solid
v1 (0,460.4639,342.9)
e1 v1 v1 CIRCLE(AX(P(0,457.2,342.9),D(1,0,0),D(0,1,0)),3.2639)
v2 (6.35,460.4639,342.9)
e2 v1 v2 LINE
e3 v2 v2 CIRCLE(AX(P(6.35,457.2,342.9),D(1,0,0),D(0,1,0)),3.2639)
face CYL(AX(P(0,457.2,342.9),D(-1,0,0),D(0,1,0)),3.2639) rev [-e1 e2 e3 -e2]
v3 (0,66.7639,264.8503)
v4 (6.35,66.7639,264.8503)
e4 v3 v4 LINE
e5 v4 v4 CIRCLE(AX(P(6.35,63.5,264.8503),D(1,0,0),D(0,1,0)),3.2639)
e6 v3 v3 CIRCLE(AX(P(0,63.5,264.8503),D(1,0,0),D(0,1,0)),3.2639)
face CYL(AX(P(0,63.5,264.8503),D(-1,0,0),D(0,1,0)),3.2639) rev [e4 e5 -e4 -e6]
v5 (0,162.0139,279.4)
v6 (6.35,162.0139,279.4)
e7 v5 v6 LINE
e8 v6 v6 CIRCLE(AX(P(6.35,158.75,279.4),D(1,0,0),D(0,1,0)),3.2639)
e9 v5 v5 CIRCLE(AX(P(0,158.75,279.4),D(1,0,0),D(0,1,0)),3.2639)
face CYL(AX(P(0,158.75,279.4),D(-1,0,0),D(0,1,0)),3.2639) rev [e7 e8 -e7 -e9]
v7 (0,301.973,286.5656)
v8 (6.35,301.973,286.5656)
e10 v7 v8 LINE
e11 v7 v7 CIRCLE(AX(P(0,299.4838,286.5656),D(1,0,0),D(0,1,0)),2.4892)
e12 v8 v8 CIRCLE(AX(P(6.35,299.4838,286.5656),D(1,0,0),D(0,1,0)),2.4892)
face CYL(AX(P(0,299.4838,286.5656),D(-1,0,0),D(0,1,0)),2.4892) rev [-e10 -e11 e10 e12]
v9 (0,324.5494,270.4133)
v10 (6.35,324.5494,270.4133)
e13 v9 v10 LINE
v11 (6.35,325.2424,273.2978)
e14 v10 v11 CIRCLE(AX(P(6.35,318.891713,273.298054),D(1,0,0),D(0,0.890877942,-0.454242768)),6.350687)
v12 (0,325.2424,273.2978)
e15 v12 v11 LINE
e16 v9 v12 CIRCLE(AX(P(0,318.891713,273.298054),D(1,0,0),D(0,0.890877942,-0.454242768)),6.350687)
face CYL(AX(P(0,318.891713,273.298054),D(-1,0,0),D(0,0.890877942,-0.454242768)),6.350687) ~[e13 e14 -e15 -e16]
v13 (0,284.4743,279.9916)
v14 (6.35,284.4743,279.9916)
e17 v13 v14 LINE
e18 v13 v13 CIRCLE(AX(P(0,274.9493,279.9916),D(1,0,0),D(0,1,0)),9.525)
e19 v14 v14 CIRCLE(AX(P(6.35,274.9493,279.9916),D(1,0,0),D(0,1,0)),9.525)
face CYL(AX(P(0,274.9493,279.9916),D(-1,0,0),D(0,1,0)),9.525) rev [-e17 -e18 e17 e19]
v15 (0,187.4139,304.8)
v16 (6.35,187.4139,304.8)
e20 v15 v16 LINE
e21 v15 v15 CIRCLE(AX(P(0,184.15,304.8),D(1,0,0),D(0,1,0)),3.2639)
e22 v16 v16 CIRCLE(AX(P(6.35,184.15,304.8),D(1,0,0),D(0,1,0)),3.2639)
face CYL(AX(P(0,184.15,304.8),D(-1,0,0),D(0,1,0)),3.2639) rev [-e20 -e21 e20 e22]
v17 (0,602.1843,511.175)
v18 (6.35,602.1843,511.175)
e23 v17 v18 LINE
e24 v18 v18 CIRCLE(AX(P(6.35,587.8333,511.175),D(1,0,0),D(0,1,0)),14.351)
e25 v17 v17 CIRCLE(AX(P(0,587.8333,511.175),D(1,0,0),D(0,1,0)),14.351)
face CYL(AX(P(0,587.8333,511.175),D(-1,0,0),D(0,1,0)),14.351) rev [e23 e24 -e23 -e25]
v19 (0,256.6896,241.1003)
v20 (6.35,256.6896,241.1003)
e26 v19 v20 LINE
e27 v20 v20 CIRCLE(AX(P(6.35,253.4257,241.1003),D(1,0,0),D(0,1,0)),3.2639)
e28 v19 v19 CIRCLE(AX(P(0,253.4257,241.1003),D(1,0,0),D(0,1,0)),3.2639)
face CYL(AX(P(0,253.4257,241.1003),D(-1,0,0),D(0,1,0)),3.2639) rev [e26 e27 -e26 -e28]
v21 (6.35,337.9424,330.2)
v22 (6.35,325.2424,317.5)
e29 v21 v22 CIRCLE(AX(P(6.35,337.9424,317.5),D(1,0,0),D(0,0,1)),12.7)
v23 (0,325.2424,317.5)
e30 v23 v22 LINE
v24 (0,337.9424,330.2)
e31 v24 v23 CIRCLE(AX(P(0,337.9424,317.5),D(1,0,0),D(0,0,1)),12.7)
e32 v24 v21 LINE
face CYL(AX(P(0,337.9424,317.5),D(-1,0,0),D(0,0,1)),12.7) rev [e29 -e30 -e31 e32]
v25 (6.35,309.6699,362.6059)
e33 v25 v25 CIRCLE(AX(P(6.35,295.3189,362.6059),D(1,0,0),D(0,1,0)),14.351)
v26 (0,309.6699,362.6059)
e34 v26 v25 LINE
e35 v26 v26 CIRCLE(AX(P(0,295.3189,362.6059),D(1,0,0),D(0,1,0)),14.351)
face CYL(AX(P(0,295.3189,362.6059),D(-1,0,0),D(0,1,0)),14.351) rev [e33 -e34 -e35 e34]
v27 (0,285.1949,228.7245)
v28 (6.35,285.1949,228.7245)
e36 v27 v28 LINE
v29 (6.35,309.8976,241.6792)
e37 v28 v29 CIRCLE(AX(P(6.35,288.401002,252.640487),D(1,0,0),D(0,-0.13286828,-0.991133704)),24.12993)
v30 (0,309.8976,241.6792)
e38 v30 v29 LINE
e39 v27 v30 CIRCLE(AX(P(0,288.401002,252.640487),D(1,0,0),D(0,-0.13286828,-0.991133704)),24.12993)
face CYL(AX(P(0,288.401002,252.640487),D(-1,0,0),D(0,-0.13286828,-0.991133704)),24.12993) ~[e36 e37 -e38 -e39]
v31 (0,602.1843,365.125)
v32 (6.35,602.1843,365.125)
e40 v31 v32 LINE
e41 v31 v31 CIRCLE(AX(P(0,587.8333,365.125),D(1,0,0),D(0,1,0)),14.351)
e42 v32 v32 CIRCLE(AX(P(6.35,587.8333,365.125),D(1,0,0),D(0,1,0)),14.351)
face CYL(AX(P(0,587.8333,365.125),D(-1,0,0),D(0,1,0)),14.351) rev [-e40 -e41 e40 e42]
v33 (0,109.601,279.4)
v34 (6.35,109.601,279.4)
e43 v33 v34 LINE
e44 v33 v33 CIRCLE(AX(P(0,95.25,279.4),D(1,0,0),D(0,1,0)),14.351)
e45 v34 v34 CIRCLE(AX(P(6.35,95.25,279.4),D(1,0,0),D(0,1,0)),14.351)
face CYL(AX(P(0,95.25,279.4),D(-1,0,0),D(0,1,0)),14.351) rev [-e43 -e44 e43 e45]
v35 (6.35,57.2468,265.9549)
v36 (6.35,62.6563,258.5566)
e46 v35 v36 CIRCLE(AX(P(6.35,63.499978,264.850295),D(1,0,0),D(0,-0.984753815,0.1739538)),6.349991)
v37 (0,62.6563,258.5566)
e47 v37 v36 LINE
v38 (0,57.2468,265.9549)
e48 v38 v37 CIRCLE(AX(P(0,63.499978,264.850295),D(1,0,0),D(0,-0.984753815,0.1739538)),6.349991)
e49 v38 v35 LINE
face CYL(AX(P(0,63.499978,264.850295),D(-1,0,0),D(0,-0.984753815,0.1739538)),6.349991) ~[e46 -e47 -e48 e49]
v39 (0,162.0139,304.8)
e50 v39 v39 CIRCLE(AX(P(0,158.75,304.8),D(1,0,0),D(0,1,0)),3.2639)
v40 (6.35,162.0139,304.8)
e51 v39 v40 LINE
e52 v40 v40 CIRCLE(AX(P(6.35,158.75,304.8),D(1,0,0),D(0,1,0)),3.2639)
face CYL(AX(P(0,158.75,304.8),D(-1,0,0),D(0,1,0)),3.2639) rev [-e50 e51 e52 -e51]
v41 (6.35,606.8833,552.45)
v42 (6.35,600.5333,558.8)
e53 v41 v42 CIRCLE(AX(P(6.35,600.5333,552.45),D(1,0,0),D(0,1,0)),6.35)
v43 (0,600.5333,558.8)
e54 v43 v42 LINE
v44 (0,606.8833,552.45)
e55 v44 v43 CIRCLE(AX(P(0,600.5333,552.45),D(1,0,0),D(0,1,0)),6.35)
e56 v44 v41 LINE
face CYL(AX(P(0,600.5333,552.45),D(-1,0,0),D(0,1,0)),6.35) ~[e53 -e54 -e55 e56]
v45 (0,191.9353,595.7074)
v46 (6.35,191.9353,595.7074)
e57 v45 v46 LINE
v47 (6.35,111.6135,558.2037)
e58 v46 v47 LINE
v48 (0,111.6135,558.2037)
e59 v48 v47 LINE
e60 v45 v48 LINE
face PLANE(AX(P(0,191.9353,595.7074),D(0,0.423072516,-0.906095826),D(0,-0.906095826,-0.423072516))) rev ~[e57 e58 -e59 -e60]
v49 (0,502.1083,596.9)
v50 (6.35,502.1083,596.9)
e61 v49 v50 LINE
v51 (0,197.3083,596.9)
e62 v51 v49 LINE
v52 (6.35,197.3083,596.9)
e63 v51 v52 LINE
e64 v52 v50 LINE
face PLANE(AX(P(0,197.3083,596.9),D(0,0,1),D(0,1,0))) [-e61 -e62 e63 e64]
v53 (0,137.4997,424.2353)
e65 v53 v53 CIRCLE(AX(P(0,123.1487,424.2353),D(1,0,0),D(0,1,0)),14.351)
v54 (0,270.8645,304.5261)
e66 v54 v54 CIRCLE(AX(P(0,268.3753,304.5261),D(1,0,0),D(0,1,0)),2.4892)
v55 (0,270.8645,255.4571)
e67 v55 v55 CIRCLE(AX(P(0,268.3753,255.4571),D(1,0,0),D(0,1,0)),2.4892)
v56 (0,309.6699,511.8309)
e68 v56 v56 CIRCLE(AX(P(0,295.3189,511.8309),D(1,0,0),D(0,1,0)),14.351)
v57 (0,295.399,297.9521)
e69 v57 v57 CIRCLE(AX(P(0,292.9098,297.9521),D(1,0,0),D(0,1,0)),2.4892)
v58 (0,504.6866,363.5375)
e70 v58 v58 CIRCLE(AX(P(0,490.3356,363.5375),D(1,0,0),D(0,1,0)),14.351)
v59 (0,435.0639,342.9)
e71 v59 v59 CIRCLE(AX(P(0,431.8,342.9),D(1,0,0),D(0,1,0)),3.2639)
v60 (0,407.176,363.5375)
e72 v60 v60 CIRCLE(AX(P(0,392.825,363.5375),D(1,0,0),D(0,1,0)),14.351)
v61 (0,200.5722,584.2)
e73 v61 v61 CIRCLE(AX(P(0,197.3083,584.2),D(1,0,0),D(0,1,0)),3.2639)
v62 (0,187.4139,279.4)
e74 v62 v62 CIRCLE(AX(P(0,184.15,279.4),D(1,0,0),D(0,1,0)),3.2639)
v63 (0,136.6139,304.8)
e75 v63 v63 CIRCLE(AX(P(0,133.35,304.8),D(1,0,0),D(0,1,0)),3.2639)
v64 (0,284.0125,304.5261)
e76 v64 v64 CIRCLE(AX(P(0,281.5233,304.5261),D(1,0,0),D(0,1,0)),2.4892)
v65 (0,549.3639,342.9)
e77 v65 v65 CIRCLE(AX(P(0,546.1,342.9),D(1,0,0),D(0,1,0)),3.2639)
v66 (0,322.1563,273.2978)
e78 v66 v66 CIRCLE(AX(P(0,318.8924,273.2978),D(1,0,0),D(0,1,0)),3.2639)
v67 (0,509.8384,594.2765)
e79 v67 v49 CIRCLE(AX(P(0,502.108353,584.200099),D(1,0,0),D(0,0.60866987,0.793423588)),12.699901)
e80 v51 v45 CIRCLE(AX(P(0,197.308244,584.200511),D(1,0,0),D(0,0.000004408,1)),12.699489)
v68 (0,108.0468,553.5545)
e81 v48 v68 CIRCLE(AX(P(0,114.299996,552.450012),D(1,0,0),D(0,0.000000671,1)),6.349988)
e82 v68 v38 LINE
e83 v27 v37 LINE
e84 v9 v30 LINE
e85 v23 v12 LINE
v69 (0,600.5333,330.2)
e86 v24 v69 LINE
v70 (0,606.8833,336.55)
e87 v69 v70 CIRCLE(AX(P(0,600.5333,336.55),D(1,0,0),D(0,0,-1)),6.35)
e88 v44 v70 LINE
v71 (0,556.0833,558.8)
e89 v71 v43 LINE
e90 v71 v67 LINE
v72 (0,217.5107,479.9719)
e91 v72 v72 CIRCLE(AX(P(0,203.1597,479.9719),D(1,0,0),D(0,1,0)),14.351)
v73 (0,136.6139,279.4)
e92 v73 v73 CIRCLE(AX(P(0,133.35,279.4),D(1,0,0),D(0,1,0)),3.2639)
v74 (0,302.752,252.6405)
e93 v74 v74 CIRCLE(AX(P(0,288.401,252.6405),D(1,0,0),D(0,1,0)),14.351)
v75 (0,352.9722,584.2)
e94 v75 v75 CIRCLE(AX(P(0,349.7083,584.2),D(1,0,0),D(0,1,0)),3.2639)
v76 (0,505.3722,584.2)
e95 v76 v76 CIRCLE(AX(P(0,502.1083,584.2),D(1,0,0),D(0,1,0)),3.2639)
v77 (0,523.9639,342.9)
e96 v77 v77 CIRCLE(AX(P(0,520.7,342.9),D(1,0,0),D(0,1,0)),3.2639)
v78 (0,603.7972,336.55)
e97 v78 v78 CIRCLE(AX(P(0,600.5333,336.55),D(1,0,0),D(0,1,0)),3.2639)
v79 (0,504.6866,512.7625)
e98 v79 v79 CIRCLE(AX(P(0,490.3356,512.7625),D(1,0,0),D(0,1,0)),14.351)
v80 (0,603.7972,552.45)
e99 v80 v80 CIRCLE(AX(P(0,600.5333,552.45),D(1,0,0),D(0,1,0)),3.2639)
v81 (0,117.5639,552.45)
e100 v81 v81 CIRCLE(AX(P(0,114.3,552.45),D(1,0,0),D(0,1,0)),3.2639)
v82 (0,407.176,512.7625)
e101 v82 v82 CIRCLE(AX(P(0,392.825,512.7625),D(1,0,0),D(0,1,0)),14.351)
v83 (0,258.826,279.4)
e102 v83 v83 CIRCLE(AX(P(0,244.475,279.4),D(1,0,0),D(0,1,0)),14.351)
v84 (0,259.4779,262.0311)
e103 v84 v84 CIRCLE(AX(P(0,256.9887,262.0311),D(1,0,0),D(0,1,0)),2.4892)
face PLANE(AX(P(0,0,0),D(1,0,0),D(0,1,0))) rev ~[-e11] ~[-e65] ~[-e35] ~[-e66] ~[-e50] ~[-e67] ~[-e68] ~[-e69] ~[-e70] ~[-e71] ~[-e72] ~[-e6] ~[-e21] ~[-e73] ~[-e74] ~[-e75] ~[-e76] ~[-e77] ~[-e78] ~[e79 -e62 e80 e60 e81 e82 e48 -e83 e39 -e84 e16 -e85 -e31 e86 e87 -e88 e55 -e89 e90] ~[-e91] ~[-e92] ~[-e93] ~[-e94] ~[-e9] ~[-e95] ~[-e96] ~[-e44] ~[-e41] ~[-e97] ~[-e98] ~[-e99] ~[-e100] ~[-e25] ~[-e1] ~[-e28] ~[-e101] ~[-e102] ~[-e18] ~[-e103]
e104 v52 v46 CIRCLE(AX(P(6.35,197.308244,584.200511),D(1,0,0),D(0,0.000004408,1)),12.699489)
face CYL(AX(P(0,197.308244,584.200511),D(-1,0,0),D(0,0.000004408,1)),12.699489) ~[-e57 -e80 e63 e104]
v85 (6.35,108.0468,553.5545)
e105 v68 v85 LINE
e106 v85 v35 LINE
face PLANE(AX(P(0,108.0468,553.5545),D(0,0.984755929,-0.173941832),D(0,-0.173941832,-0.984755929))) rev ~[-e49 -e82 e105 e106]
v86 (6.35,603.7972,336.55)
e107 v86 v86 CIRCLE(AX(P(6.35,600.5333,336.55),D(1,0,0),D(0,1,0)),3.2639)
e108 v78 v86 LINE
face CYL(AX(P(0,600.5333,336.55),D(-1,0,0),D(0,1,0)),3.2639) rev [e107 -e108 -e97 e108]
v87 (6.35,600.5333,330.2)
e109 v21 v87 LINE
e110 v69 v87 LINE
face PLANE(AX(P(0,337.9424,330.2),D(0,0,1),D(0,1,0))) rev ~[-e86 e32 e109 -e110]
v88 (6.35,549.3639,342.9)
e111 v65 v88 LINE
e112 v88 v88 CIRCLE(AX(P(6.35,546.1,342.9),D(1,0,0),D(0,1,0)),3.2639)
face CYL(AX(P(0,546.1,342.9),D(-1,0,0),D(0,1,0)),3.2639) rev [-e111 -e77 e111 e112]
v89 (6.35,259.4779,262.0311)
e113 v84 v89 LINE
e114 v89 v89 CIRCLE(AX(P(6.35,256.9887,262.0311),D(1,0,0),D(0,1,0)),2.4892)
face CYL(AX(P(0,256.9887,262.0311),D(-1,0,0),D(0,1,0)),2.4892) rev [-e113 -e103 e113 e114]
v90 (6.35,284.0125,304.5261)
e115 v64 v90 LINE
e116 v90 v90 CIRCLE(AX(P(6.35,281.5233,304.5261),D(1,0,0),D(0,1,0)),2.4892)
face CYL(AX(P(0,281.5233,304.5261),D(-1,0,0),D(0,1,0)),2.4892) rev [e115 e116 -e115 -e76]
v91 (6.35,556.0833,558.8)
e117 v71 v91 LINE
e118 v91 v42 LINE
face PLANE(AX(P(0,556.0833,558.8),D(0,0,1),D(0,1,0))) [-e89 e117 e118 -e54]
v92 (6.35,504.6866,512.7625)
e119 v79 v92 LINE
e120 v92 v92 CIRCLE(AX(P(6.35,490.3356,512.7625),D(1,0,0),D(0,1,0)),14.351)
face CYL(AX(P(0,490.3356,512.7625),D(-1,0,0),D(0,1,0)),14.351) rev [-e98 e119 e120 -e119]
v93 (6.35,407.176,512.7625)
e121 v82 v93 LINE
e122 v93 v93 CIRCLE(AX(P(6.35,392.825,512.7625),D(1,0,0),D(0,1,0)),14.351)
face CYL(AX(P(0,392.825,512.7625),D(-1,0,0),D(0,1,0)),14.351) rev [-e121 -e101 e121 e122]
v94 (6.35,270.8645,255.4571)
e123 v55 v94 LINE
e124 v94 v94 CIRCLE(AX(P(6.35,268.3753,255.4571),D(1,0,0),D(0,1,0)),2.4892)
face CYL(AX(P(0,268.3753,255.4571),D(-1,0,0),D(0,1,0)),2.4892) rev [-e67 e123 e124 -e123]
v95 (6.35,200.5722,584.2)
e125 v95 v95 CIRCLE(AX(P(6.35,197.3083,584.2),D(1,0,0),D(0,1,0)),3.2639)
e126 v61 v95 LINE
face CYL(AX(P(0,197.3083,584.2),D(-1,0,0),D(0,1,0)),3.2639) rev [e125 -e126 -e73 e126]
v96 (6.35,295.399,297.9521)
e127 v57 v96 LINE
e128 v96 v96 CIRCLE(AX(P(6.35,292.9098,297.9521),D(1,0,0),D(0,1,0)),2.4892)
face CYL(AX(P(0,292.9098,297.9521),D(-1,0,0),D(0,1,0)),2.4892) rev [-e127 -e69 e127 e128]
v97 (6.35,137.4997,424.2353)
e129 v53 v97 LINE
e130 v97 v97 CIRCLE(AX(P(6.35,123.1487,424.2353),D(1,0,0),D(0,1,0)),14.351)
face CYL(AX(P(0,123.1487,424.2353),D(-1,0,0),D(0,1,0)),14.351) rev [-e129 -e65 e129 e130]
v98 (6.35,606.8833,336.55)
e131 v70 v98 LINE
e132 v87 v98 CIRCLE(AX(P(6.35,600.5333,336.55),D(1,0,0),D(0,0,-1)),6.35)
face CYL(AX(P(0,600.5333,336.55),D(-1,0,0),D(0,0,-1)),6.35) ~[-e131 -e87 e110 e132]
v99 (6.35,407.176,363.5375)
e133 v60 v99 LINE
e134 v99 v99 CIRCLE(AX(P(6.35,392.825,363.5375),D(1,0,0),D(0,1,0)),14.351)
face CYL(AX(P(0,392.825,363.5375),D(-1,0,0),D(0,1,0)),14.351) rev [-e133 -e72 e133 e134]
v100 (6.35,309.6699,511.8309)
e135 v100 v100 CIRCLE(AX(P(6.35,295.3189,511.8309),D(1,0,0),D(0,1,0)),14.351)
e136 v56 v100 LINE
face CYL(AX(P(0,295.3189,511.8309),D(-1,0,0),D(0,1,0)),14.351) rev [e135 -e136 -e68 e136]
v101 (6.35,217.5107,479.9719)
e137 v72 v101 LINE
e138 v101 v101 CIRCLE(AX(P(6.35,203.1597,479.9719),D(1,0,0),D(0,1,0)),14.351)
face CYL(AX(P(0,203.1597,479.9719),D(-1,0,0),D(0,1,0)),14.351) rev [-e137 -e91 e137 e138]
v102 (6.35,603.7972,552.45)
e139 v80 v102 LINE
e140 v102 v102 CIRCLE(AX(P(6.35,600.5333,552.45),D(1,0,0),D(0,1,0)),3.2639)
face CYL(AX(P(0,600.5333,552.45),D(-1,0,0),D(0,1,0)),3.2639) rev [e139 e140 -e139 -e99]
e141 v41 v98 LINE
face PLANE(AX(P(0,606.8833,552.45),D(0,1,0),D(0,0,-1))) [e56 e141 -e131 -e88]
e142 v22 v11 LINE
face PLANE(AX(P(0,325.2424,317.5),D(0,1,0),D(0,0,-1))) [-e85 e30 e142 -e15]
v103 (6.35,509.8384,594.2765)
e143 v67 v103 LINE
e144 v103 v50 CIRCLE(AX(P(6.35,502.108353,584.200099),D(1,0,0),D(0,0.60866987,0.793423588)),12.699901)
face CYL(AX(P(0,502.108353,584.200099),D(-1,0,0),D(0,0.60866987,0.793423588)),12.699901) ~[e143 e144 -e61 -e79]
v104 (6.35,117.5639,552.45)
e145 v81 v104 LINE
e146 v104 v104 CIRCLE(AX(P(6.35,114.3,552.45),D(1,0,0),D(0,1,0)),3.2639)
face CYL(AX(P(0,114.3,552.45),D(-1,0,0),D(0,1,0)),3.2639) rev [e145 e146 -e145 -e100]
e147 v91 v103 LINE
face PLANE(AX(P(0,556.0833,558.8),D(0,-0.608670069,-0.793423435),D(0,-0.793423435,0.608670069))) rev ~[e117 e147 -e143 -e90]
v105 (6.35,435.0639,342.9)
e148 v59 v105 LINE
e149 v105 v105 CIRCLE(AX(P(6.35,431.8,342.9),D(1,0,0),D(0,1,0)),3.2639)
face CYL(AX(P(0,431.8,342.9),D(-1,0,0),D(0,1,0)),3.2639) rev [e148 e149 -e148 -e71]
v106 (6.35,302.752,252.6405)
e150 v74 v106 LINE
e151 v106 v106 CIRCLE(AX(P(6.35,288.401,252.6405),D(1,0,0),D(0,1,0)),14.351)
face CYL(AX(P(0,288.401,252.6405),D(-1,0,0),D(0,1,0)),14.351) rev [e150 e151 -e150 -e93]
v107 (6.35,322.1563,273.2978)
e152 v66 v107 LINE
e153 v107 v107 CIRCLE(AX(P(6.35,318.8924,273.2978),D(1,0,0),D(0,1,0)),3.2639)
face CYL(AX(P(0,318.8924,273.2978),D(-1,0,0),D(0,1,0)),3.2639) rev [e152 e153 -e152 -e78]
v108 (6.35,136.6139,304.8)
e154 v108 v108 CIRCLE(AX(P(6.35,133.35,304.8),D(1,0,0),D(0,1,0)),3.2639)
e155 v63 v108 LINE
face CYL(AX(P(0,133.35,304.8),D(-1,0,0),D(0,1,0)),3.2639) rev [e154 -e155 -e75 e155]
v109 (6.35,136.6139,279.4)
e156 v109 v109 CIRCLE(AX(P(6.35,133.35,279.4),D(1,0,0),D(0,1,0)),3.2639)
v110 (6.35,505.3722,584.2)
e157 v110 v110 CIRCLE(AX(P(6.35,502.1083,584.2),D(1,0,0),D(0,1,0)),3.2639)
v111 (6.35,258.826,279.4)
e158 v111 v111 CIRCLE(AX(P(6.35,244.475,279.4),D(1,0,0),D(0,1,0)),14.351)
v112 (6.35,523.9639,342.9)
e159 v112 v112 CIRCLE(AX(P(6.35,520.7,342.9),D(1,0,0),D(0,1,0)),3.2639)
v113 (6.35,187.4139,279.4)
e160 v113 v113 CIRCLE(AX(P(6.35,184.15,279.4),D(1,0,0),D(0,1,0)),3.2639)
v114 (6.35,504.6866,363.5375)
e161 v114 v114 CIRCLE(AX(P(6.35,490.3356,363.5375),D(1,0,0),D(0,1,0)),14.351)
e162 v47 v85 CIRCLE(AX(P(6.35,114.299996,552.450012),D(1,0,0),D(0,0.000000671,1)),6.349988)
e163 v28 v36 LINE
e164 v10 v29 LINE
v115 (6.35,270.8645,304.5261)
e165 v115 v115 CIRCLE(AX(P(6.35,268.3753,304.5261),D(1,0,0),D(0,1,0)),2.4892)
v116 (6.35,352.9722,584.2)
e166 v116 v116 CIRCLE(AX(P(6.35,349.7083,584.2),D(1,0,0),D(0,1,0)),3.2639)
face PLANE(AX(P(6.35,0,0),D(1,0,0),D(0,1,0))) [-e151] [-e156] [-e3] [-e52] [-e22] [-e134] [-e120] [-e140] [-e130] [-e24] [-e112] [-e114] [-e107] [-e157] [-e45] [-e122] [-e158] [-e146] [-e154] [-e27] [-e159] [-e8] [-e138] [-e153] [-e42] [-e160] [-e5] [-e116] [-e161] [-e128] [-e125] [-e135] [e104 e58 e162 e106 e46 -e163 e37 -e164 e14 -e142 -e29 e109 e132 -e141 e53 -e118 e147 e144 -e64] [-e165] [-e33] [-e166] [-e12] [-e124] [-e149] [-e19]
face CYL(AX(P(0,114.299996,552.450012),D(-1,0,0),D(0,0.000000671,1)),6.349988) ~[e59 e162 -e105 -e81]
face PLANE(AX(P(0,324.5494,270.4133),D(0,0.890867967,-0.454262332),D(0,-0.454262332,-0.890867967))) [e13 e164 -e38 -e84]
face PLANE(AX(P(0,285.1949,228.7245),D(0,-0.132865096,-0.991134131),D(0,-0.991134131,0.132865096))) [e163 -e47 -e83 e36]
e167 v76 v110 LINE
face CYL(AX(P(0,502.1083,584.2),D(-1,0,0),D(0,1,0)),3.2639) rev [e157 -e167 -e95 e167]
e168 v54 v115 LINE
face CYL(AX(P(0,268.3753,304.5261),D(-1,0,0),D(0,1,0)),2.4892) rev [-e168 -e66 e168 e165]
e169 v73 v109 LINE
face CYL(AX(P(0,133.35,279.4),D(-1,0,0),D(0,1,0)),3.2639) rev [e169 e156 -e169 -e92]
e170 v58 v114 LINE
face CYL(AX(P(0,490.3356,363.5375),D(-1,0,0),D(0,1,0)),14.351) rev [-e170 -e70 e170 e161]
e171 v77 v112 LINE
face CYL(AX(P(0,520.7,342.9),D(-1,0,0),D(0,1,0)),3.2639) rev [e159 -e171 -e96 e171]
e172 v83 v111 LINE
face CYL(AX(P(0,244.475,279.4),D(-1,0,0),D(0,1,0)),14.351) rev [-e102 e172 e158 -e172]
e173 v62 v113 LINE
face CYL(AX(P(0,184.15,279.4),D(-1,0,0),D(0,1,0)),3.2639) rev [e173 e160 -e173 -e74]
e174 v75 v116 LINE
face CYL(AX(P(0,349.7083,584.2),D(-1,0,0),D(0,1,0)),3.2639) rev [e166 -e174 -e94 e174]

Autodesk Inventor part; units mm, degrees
ref_plane "YZ Plane" through (0, 0, 0) normal (1, 0, 0) x (0, 1, 0)
ref_plane "XZ Plane" through (0, 0, 0) normal (0, 1, 0) x (-1, 0, 0)
ref_plane "XY Plane" through (0, 0, 0) normal (0, 0, 1) x (1, 0, 0)
sketch "Sketch1" plane through (0, 0, 0) normal (1, 0, 0) x (0, 1, 0)
  line L0 (95.25, 812.8) -> (44.45, 812.8) construction
  line L1 (44.45, 812.8) -> (44.45, 0) construction
  line L2 (44.45, 0) -> (95.25, 0) construction
  line L3 (95.25, 0) -> (95.25, 812.8) construction
  line L4 (95.25, 0) -> (44.45, 0) construction
  line L5 (44.45, 25.4) -> (95.25, 25.4) construction
  circle A0 centre (190.5, 0) radius 50.8 construction
  circle A1 centre (95.25, 279.4) radius 25.4 construction
  circle A2 centre (274.9493, 279.9916) radius 9.525
  circle A3 centre (274.9493, 279.9916) radius 25.4 construction
  circle A4 centre (274.9493, 279.9916) radius 31.75 construction
  circle A5 centre (299.4838, 286.5656) radius 2.4892
  circle A6 centre (292.9098, 297.9521) radius 2.4892
  circle A7 centre (281.5233, 304.5261) radius 2.4892
  circle A8 centre (268.3753, 304.5261) radius 2.4892
  circle A9 centre (256.9887, 297.9521) radius 2.4892
  circle A10 centre (250.4147, 286.5656) radius 2.4892 construction
  circle A11 centre (250.4147, 273.4176) radius 2.4892 construction
  circle A12 centre (256.9887, 262.0311) radius 2.4892
  circle A13 centre (268.3753, 255.4571) radius 2.4892
  circle A14 centre (281.5233, 255.4571) radius 2.4892 construction
  circle A15 centre (292.9098, 262.0311) radius 2.4892 construction
  circle A16 centre (299.4838, 273.4176) radius 2.4892
  circle A17 centre (609.6, 438.15) radius 50.8 construction
  circle A18 centre (274.9493, 279.9916) radius 30.48 construction
  circle A19 centre (587.8333, 365.125) radius 25.4 construction
  circle A20 centre (587.8333, 511.175) radius 25.4 construction
  line L6 (587.8333, 485.775) -> (587.8333, 390.525) construction
  circle A21 centre (490.3356, 512.7625) radius 14.351
  circle A22 centre (392.825, 512.7625) radius 14.351
  circle A23 centre (490.3356, 363.5375) radius 14.351
  line L7 (587.8333, 511.175) -> (490.3356, 512.7625) construction
  line L8 (587.8333, 365.125) -> (490.3356, 363.5375) construction
  circle A24 centre (490.3356, 512.7625) radius 25.4 construction
  circle A25 centre (490.3356, 363.5375) radius 25.4 construction
  line L9 (490.3356, 487.3625) -> (490.3356, 388.9375) construction
  circle A26 centre (392.825, 512.7625) radius 25.4 construction
  circle A27 centre (392.825, 363.5375) radius 25.4 construction
  circle A28 centre (392.825, 363.5375) radius 14.351
  line L10 (490.3356, 512.7625) -> (392.825, 512.7625) construction
  line L11 (490.3356, 363.5375) -> (392.825, 363.5375) construction
  line L12 (392.825, 487.3625) -> (392.825, 388.9375) construction
  circle A29 centre (295.3189, 511.8309) radius 25.4 construction
  circle A30 centre (295.3189, 362.6059) radius 25.4 construction
  circle A31 centre (203.1597, 479.9719) radius 25.4 construction
  circle A32 centre (295.3189, 511.8309) radius 14.351
  circle A33 centre (295.3189, 362.6059) radius 14.351
  circle A34 centre (203.1597, 479.9719) radius 14.351
  line L13 (392.825, 512.7625) -> (295.3189, 511.8309) construction
  line L14 (392.825, 363.5375) -> (295.3189, 362.6059) construction
  line L15 (295.3189, 486.4309) -> (295.3189, 388.0059) construction
  line L16 (295.3189, 511.8309) -> (203.1597, 479.9719) construction
  circle A35 centre (123.1487, 424.2353) radius 25.4 construction
  circle A36 centre (123.1487, 424.2353) radius 14.351
  line L17 (203.1597, 479.9719) -> (123.1487, 424.2353) construction
  circle A37 centre (95.25, 279.4) radius 14.351
  line L18 (609.6, 355.6) -> (44.45, 355.6) construction
  line L19 (44.45, 355.6) -> (44.45, 330.2) construction
  line L20 (44.45, 330.2) -> (609.6, 330.2) construction
  line L21 (609.6, 330.2) -> (609.6, 355.6) construction
  line L22 (95.25, 241.3) -> (44.45, 241.3) construction
  line L23 (44.45, 241.3) -> (44.45, 215.9) construction
  line L24 (44.45, 215.9) -> (95.25, 215.9) construction
  line L25 (95.25, 215.9) -> (95.25, 241.3) construction
  circle A38 centre (244.475, 279.4) radius 25.4 construction
  circle A39 centre (244.475, 279.4) radius 14.351
  line L26 (218.8463, 459.9947) -> (279.6322, 382.5831) construction
  circle A40 centre (274.9493, 279.9916) radius 8.89 construction
  circle A41 centre (288.401, 252.6405) radius 21.59 construction
  circle A42 centre (244.475, 279.4) radius 21.59 construction
  circle A43 centre (288.401, 252.6405) radius 14.351
  circle A44 centre (587.8333, 511.175) radius 14.351
  circle A45 centre (587.8333, 365.125) radius 14.351
  line L27 (95.25, 647.7) -> (609.6, 647.7) construction
  line L28 (609.6, 647.7) -> (609.6, 622.3) construction
  line L29 (609.6, 622.3) -> (95.25, 622.3) construction
  line L30 (95.25, 622.3) -> (95.25, 647.7) construction
  circle A46 centre (600.5333, 552.45) radius 3.2639
  circle A47 centre (600.5333, 552.45) radius 6.35 construction
  circle A48 centre (600.5333, 336.55) radius 3.2639
  circle A49 centre (600.5333, 336.55) radius 6.35 construction
  circle A50 centre (114.3, 552.45) radius 3.2639
  circle A51 centre (114.3, 552.45) radius 6.35 construction
  line L31 (595.3031, 535.4518) -> (598.6659, 546.3808) construction
  circle A52 centre (63.5, 264.8503) radius 3.2639
  circle A53 centre (63.5, 264.8503) radius 6.35 construction
  line L32 (337.9424, 330.2) -> (600.5333, 330.2)
  circle A54 centre (288.401, 252.6405) radius 24.13 construction
  circle A55 centre (244.475, 279.4) radius 24.13 construction
  line L33 (72.1591, 268.8184) -> (69.2727, 267.4957) construction
  line L34 (609.6, 342.9) -> (44.45, 342.9) construction
  circle A56 centre (288.401, 252.6405) radius 19.05 construction
  line L35 (265.0822, 266.8462) -> (267.7937, 265.1944) construction
  circle A57 centre (318.8924, 273.2978) radius 3.2639
  circle A58 centre (253.4257, 241.1003) radius 3.2639
  line L36 (95.25, 558.8) -> (44.45, 558.8) construction
  line L37 (44.45, 558.8) -> (44.45, 533.4) construction
  line L38 (44.45, 533.4) -> (95.25, 533.4) construction
  line L39 (95.25, 533.4) -> (95.25, 558.8) construction
  line L40 (114.3, 558.8) -> (600.5333, 558.8)
  line L41 (108.0468, 553.5545) -> (57.2468, 265.9549)
  line L42 (285.1949, 228.7245) -> (62.6563, 258.5566)
  circle A59 centre (318.8924, 273.2978) radius 6.35 construction
  circle A60 centre (253.4257, 241.1003) radius 6.35 construction
  arc A61 (114.3, 558.8) -> (108.0468, 553.5545) centre (114.3, 552.45) ccw
  arc A62 (57.2468, 265.9549) -> (62.6563, 258.5566) centre (63.5, 264.8503) ccw
  line L43 (312.6148, 274.2541) -> (306.3372, 275.2103) construction
  line L44 (313.6352, 269.7362) -> (308.3781, 266.1746) construction
  line L45 (259.4559, 243.09) -> (265.4861, 245.0797) construction
  line L46 (256.5005, 246.6562) -> (259.5753, 252.2121) construction
  line L47 (325.2424, 317.5) -> (325.2424, 273.2978)
  arc A63 (337.9424, 330.2) -> (325.2424, 317.5) centre (337.9424, 317.5) ccw
  line L48 (324.5494, 270.4133) -> (309.8976, 241.6792)
  arc A64 (324.5494, 270.4133) -> (325.2424, 273.2978) centre (318.8924, 273.2978) ccw
  arc A65 (285.1949, 228.7245) -> (309.8976, 241.6792) centre (288.401, 252.6405) ccw
  circle A66 centre (431.8, 342.9) radius 3.2639
  circle A67 centre (457.2, 342.9) radius 3.2639
  circle A68 centre (520.7, 342.9) radius 3.2639
  circle A69 centre (546.1, 342.9) radius 3.2639
  line L49 (606.8833, 552.45) -> (606.8833, 336.55)
  arc A70 (606.8833, 552.45) -> (600.5333, 558.8) centre (600.5333, 552.45) ccw
  arc A71 (600.5333, 330.2) -> (606.8833, 336.55) centre (600.5333, 336.55) ccw
  circle A72 centre (184.15, 304.8) radius 3.2639
  circle A73 centre (158.75, 304.8) radius 3.2639
  circle A74 centre (133.35, 304.8) radius 3.2639
  circle A75 centre (133.35, 279.4) radius 3.2639
  circle A76 centre (158.75, 279.4) radius 3.2639
  circle A77 centre (184.15, 279.4) radius 3.2639
  circle A78 centre (502.1083, 584.2) radius 3.2639
  circle A79 centre (197.3083, 584.2) radius 3.2639
  circle A80 centre (349.7083, 584.2) radius 3.2639
  circle A81 centre (502.1083, 584.2) radius 12.7 construction
  circle A82 centre (197.3083, 584.2) radius 12.7 construction
  line L50 (556.0833, 558.8) -> (509.8384, 594.2765)
  line L51 (191.9353, 595.7074) -> (111.6135, 558.2037)
  line L52 (197.3083, 596.9) -> (502.1083, 596.9)
  arc A83 (197.3083, 596.9) -> (191.9353, 595.7074) centre (197.3083, 584.2) ccw
  arc A84 (509.8384, 594.2765) -> (502.1083, 596.9) centre (502.1083, 584.2) ccw
  point P0 (0, 0)
  point P1 (274.0548, 252.2687)
  point P2 (274.7516, 257.073)
  point P3 (251.6966, 266.9984)
  point P4 (254.3358, 268.9733)
  point P5 (241.139, 234.6303)
  point P6 (100.4185, 253.4945)
  dimension "d9" = 50.8
  dimension "d14" = 50.8
  dimension "d38" = 50.8
  dimension "d53" = 50.8
  dimension "d1" = 812.8
  dimension "d2" = 44.45
  dimension "d4" = 25.4
  dimension "d5" = 101.6
  dimension "d6" = 95.25
  dimension "d8" = 50.8
  dimension "d15" = 63.5
  dimension "d21" = 19.05
  dimension "d26" = 360
  dimension "d28" = 4.9784
  dimension "d29" = 438.15
  dimension "d30" = 514.35
  dimension "d36" = 60.96
  dimension "d39" = 50.8
  dimension "d41" = 95.25
  dimension "d45" = 28.702
  dimension "d47" = 97.5106
  dimension "d48" = 98.425
  dimension "d56" = 25.4
  dimension "d73" = 50.8
  dimension "d74" = 25.4
  dimension "d75" = 215.9
  dimension "d78" = 279.4
  dimension "d80" = 149.225
  dimension "d81" = 97.5106
  dimension "d82" = 147.4978
  dimension "d83" = 17.78
  dimension "d85" = 43.18
  dimension "d92" = 330.2
  dimension "d100" = 514.35
  dimension "d107" = 25.4
  dimension "d108" = 514.35
  dimension "d109" = 266.7
  dimension "d115" = 6.5278
  dimension "d116" = 12.7
  dimension "d122" = 2.54
  dimension "d123" = 2.54
  dimension "d128" = 3.175
  dimension "d133" = 38.1
  dimension "d134" = 3.175
  dimension "d135" = 194.9958
  dimension "d136" = 6.5278
  dimension "d137" = 25.4
  dimension "d138" = 533.4
  dimension "d139" = 19.05
  dimension "d140" = 19.05
  dimension "d141" = 12.7
  dimension "d142" = 6.35
  dimension "d143" = 12.7
  dimension "d144" = 43.18
  dimension "d149" = 25.4
  dimension "d151" = 6.5278
  dimension "d157" = 25.4
  dimension "d158" = 63.5
  dimension "d159" = 12.7
  dimension "d161" = 11.4347
  dimension "d163" = 44.45
  dimension "d164" = 38.1
  dimension "d166" = 336.55
  dimension "d167" = 25.4
  dimension "d168" = 6.5278
  dimension "d169" = 25.4
  dimension "d170" = 25.4
  dimension "d173" = 25.4
extrude "Extrusion2" add sketch "Sketch1" along normal blind 6.35 contours A9 | A16 | A63 L47 A64 L48 A65 L42 A62 L41 A61 L40 A70 L49 A71 L32 | L40 A61 L51 A83 L52 A84 L50
properties part number "sketchers" material "Polycarbonate, Clear"
